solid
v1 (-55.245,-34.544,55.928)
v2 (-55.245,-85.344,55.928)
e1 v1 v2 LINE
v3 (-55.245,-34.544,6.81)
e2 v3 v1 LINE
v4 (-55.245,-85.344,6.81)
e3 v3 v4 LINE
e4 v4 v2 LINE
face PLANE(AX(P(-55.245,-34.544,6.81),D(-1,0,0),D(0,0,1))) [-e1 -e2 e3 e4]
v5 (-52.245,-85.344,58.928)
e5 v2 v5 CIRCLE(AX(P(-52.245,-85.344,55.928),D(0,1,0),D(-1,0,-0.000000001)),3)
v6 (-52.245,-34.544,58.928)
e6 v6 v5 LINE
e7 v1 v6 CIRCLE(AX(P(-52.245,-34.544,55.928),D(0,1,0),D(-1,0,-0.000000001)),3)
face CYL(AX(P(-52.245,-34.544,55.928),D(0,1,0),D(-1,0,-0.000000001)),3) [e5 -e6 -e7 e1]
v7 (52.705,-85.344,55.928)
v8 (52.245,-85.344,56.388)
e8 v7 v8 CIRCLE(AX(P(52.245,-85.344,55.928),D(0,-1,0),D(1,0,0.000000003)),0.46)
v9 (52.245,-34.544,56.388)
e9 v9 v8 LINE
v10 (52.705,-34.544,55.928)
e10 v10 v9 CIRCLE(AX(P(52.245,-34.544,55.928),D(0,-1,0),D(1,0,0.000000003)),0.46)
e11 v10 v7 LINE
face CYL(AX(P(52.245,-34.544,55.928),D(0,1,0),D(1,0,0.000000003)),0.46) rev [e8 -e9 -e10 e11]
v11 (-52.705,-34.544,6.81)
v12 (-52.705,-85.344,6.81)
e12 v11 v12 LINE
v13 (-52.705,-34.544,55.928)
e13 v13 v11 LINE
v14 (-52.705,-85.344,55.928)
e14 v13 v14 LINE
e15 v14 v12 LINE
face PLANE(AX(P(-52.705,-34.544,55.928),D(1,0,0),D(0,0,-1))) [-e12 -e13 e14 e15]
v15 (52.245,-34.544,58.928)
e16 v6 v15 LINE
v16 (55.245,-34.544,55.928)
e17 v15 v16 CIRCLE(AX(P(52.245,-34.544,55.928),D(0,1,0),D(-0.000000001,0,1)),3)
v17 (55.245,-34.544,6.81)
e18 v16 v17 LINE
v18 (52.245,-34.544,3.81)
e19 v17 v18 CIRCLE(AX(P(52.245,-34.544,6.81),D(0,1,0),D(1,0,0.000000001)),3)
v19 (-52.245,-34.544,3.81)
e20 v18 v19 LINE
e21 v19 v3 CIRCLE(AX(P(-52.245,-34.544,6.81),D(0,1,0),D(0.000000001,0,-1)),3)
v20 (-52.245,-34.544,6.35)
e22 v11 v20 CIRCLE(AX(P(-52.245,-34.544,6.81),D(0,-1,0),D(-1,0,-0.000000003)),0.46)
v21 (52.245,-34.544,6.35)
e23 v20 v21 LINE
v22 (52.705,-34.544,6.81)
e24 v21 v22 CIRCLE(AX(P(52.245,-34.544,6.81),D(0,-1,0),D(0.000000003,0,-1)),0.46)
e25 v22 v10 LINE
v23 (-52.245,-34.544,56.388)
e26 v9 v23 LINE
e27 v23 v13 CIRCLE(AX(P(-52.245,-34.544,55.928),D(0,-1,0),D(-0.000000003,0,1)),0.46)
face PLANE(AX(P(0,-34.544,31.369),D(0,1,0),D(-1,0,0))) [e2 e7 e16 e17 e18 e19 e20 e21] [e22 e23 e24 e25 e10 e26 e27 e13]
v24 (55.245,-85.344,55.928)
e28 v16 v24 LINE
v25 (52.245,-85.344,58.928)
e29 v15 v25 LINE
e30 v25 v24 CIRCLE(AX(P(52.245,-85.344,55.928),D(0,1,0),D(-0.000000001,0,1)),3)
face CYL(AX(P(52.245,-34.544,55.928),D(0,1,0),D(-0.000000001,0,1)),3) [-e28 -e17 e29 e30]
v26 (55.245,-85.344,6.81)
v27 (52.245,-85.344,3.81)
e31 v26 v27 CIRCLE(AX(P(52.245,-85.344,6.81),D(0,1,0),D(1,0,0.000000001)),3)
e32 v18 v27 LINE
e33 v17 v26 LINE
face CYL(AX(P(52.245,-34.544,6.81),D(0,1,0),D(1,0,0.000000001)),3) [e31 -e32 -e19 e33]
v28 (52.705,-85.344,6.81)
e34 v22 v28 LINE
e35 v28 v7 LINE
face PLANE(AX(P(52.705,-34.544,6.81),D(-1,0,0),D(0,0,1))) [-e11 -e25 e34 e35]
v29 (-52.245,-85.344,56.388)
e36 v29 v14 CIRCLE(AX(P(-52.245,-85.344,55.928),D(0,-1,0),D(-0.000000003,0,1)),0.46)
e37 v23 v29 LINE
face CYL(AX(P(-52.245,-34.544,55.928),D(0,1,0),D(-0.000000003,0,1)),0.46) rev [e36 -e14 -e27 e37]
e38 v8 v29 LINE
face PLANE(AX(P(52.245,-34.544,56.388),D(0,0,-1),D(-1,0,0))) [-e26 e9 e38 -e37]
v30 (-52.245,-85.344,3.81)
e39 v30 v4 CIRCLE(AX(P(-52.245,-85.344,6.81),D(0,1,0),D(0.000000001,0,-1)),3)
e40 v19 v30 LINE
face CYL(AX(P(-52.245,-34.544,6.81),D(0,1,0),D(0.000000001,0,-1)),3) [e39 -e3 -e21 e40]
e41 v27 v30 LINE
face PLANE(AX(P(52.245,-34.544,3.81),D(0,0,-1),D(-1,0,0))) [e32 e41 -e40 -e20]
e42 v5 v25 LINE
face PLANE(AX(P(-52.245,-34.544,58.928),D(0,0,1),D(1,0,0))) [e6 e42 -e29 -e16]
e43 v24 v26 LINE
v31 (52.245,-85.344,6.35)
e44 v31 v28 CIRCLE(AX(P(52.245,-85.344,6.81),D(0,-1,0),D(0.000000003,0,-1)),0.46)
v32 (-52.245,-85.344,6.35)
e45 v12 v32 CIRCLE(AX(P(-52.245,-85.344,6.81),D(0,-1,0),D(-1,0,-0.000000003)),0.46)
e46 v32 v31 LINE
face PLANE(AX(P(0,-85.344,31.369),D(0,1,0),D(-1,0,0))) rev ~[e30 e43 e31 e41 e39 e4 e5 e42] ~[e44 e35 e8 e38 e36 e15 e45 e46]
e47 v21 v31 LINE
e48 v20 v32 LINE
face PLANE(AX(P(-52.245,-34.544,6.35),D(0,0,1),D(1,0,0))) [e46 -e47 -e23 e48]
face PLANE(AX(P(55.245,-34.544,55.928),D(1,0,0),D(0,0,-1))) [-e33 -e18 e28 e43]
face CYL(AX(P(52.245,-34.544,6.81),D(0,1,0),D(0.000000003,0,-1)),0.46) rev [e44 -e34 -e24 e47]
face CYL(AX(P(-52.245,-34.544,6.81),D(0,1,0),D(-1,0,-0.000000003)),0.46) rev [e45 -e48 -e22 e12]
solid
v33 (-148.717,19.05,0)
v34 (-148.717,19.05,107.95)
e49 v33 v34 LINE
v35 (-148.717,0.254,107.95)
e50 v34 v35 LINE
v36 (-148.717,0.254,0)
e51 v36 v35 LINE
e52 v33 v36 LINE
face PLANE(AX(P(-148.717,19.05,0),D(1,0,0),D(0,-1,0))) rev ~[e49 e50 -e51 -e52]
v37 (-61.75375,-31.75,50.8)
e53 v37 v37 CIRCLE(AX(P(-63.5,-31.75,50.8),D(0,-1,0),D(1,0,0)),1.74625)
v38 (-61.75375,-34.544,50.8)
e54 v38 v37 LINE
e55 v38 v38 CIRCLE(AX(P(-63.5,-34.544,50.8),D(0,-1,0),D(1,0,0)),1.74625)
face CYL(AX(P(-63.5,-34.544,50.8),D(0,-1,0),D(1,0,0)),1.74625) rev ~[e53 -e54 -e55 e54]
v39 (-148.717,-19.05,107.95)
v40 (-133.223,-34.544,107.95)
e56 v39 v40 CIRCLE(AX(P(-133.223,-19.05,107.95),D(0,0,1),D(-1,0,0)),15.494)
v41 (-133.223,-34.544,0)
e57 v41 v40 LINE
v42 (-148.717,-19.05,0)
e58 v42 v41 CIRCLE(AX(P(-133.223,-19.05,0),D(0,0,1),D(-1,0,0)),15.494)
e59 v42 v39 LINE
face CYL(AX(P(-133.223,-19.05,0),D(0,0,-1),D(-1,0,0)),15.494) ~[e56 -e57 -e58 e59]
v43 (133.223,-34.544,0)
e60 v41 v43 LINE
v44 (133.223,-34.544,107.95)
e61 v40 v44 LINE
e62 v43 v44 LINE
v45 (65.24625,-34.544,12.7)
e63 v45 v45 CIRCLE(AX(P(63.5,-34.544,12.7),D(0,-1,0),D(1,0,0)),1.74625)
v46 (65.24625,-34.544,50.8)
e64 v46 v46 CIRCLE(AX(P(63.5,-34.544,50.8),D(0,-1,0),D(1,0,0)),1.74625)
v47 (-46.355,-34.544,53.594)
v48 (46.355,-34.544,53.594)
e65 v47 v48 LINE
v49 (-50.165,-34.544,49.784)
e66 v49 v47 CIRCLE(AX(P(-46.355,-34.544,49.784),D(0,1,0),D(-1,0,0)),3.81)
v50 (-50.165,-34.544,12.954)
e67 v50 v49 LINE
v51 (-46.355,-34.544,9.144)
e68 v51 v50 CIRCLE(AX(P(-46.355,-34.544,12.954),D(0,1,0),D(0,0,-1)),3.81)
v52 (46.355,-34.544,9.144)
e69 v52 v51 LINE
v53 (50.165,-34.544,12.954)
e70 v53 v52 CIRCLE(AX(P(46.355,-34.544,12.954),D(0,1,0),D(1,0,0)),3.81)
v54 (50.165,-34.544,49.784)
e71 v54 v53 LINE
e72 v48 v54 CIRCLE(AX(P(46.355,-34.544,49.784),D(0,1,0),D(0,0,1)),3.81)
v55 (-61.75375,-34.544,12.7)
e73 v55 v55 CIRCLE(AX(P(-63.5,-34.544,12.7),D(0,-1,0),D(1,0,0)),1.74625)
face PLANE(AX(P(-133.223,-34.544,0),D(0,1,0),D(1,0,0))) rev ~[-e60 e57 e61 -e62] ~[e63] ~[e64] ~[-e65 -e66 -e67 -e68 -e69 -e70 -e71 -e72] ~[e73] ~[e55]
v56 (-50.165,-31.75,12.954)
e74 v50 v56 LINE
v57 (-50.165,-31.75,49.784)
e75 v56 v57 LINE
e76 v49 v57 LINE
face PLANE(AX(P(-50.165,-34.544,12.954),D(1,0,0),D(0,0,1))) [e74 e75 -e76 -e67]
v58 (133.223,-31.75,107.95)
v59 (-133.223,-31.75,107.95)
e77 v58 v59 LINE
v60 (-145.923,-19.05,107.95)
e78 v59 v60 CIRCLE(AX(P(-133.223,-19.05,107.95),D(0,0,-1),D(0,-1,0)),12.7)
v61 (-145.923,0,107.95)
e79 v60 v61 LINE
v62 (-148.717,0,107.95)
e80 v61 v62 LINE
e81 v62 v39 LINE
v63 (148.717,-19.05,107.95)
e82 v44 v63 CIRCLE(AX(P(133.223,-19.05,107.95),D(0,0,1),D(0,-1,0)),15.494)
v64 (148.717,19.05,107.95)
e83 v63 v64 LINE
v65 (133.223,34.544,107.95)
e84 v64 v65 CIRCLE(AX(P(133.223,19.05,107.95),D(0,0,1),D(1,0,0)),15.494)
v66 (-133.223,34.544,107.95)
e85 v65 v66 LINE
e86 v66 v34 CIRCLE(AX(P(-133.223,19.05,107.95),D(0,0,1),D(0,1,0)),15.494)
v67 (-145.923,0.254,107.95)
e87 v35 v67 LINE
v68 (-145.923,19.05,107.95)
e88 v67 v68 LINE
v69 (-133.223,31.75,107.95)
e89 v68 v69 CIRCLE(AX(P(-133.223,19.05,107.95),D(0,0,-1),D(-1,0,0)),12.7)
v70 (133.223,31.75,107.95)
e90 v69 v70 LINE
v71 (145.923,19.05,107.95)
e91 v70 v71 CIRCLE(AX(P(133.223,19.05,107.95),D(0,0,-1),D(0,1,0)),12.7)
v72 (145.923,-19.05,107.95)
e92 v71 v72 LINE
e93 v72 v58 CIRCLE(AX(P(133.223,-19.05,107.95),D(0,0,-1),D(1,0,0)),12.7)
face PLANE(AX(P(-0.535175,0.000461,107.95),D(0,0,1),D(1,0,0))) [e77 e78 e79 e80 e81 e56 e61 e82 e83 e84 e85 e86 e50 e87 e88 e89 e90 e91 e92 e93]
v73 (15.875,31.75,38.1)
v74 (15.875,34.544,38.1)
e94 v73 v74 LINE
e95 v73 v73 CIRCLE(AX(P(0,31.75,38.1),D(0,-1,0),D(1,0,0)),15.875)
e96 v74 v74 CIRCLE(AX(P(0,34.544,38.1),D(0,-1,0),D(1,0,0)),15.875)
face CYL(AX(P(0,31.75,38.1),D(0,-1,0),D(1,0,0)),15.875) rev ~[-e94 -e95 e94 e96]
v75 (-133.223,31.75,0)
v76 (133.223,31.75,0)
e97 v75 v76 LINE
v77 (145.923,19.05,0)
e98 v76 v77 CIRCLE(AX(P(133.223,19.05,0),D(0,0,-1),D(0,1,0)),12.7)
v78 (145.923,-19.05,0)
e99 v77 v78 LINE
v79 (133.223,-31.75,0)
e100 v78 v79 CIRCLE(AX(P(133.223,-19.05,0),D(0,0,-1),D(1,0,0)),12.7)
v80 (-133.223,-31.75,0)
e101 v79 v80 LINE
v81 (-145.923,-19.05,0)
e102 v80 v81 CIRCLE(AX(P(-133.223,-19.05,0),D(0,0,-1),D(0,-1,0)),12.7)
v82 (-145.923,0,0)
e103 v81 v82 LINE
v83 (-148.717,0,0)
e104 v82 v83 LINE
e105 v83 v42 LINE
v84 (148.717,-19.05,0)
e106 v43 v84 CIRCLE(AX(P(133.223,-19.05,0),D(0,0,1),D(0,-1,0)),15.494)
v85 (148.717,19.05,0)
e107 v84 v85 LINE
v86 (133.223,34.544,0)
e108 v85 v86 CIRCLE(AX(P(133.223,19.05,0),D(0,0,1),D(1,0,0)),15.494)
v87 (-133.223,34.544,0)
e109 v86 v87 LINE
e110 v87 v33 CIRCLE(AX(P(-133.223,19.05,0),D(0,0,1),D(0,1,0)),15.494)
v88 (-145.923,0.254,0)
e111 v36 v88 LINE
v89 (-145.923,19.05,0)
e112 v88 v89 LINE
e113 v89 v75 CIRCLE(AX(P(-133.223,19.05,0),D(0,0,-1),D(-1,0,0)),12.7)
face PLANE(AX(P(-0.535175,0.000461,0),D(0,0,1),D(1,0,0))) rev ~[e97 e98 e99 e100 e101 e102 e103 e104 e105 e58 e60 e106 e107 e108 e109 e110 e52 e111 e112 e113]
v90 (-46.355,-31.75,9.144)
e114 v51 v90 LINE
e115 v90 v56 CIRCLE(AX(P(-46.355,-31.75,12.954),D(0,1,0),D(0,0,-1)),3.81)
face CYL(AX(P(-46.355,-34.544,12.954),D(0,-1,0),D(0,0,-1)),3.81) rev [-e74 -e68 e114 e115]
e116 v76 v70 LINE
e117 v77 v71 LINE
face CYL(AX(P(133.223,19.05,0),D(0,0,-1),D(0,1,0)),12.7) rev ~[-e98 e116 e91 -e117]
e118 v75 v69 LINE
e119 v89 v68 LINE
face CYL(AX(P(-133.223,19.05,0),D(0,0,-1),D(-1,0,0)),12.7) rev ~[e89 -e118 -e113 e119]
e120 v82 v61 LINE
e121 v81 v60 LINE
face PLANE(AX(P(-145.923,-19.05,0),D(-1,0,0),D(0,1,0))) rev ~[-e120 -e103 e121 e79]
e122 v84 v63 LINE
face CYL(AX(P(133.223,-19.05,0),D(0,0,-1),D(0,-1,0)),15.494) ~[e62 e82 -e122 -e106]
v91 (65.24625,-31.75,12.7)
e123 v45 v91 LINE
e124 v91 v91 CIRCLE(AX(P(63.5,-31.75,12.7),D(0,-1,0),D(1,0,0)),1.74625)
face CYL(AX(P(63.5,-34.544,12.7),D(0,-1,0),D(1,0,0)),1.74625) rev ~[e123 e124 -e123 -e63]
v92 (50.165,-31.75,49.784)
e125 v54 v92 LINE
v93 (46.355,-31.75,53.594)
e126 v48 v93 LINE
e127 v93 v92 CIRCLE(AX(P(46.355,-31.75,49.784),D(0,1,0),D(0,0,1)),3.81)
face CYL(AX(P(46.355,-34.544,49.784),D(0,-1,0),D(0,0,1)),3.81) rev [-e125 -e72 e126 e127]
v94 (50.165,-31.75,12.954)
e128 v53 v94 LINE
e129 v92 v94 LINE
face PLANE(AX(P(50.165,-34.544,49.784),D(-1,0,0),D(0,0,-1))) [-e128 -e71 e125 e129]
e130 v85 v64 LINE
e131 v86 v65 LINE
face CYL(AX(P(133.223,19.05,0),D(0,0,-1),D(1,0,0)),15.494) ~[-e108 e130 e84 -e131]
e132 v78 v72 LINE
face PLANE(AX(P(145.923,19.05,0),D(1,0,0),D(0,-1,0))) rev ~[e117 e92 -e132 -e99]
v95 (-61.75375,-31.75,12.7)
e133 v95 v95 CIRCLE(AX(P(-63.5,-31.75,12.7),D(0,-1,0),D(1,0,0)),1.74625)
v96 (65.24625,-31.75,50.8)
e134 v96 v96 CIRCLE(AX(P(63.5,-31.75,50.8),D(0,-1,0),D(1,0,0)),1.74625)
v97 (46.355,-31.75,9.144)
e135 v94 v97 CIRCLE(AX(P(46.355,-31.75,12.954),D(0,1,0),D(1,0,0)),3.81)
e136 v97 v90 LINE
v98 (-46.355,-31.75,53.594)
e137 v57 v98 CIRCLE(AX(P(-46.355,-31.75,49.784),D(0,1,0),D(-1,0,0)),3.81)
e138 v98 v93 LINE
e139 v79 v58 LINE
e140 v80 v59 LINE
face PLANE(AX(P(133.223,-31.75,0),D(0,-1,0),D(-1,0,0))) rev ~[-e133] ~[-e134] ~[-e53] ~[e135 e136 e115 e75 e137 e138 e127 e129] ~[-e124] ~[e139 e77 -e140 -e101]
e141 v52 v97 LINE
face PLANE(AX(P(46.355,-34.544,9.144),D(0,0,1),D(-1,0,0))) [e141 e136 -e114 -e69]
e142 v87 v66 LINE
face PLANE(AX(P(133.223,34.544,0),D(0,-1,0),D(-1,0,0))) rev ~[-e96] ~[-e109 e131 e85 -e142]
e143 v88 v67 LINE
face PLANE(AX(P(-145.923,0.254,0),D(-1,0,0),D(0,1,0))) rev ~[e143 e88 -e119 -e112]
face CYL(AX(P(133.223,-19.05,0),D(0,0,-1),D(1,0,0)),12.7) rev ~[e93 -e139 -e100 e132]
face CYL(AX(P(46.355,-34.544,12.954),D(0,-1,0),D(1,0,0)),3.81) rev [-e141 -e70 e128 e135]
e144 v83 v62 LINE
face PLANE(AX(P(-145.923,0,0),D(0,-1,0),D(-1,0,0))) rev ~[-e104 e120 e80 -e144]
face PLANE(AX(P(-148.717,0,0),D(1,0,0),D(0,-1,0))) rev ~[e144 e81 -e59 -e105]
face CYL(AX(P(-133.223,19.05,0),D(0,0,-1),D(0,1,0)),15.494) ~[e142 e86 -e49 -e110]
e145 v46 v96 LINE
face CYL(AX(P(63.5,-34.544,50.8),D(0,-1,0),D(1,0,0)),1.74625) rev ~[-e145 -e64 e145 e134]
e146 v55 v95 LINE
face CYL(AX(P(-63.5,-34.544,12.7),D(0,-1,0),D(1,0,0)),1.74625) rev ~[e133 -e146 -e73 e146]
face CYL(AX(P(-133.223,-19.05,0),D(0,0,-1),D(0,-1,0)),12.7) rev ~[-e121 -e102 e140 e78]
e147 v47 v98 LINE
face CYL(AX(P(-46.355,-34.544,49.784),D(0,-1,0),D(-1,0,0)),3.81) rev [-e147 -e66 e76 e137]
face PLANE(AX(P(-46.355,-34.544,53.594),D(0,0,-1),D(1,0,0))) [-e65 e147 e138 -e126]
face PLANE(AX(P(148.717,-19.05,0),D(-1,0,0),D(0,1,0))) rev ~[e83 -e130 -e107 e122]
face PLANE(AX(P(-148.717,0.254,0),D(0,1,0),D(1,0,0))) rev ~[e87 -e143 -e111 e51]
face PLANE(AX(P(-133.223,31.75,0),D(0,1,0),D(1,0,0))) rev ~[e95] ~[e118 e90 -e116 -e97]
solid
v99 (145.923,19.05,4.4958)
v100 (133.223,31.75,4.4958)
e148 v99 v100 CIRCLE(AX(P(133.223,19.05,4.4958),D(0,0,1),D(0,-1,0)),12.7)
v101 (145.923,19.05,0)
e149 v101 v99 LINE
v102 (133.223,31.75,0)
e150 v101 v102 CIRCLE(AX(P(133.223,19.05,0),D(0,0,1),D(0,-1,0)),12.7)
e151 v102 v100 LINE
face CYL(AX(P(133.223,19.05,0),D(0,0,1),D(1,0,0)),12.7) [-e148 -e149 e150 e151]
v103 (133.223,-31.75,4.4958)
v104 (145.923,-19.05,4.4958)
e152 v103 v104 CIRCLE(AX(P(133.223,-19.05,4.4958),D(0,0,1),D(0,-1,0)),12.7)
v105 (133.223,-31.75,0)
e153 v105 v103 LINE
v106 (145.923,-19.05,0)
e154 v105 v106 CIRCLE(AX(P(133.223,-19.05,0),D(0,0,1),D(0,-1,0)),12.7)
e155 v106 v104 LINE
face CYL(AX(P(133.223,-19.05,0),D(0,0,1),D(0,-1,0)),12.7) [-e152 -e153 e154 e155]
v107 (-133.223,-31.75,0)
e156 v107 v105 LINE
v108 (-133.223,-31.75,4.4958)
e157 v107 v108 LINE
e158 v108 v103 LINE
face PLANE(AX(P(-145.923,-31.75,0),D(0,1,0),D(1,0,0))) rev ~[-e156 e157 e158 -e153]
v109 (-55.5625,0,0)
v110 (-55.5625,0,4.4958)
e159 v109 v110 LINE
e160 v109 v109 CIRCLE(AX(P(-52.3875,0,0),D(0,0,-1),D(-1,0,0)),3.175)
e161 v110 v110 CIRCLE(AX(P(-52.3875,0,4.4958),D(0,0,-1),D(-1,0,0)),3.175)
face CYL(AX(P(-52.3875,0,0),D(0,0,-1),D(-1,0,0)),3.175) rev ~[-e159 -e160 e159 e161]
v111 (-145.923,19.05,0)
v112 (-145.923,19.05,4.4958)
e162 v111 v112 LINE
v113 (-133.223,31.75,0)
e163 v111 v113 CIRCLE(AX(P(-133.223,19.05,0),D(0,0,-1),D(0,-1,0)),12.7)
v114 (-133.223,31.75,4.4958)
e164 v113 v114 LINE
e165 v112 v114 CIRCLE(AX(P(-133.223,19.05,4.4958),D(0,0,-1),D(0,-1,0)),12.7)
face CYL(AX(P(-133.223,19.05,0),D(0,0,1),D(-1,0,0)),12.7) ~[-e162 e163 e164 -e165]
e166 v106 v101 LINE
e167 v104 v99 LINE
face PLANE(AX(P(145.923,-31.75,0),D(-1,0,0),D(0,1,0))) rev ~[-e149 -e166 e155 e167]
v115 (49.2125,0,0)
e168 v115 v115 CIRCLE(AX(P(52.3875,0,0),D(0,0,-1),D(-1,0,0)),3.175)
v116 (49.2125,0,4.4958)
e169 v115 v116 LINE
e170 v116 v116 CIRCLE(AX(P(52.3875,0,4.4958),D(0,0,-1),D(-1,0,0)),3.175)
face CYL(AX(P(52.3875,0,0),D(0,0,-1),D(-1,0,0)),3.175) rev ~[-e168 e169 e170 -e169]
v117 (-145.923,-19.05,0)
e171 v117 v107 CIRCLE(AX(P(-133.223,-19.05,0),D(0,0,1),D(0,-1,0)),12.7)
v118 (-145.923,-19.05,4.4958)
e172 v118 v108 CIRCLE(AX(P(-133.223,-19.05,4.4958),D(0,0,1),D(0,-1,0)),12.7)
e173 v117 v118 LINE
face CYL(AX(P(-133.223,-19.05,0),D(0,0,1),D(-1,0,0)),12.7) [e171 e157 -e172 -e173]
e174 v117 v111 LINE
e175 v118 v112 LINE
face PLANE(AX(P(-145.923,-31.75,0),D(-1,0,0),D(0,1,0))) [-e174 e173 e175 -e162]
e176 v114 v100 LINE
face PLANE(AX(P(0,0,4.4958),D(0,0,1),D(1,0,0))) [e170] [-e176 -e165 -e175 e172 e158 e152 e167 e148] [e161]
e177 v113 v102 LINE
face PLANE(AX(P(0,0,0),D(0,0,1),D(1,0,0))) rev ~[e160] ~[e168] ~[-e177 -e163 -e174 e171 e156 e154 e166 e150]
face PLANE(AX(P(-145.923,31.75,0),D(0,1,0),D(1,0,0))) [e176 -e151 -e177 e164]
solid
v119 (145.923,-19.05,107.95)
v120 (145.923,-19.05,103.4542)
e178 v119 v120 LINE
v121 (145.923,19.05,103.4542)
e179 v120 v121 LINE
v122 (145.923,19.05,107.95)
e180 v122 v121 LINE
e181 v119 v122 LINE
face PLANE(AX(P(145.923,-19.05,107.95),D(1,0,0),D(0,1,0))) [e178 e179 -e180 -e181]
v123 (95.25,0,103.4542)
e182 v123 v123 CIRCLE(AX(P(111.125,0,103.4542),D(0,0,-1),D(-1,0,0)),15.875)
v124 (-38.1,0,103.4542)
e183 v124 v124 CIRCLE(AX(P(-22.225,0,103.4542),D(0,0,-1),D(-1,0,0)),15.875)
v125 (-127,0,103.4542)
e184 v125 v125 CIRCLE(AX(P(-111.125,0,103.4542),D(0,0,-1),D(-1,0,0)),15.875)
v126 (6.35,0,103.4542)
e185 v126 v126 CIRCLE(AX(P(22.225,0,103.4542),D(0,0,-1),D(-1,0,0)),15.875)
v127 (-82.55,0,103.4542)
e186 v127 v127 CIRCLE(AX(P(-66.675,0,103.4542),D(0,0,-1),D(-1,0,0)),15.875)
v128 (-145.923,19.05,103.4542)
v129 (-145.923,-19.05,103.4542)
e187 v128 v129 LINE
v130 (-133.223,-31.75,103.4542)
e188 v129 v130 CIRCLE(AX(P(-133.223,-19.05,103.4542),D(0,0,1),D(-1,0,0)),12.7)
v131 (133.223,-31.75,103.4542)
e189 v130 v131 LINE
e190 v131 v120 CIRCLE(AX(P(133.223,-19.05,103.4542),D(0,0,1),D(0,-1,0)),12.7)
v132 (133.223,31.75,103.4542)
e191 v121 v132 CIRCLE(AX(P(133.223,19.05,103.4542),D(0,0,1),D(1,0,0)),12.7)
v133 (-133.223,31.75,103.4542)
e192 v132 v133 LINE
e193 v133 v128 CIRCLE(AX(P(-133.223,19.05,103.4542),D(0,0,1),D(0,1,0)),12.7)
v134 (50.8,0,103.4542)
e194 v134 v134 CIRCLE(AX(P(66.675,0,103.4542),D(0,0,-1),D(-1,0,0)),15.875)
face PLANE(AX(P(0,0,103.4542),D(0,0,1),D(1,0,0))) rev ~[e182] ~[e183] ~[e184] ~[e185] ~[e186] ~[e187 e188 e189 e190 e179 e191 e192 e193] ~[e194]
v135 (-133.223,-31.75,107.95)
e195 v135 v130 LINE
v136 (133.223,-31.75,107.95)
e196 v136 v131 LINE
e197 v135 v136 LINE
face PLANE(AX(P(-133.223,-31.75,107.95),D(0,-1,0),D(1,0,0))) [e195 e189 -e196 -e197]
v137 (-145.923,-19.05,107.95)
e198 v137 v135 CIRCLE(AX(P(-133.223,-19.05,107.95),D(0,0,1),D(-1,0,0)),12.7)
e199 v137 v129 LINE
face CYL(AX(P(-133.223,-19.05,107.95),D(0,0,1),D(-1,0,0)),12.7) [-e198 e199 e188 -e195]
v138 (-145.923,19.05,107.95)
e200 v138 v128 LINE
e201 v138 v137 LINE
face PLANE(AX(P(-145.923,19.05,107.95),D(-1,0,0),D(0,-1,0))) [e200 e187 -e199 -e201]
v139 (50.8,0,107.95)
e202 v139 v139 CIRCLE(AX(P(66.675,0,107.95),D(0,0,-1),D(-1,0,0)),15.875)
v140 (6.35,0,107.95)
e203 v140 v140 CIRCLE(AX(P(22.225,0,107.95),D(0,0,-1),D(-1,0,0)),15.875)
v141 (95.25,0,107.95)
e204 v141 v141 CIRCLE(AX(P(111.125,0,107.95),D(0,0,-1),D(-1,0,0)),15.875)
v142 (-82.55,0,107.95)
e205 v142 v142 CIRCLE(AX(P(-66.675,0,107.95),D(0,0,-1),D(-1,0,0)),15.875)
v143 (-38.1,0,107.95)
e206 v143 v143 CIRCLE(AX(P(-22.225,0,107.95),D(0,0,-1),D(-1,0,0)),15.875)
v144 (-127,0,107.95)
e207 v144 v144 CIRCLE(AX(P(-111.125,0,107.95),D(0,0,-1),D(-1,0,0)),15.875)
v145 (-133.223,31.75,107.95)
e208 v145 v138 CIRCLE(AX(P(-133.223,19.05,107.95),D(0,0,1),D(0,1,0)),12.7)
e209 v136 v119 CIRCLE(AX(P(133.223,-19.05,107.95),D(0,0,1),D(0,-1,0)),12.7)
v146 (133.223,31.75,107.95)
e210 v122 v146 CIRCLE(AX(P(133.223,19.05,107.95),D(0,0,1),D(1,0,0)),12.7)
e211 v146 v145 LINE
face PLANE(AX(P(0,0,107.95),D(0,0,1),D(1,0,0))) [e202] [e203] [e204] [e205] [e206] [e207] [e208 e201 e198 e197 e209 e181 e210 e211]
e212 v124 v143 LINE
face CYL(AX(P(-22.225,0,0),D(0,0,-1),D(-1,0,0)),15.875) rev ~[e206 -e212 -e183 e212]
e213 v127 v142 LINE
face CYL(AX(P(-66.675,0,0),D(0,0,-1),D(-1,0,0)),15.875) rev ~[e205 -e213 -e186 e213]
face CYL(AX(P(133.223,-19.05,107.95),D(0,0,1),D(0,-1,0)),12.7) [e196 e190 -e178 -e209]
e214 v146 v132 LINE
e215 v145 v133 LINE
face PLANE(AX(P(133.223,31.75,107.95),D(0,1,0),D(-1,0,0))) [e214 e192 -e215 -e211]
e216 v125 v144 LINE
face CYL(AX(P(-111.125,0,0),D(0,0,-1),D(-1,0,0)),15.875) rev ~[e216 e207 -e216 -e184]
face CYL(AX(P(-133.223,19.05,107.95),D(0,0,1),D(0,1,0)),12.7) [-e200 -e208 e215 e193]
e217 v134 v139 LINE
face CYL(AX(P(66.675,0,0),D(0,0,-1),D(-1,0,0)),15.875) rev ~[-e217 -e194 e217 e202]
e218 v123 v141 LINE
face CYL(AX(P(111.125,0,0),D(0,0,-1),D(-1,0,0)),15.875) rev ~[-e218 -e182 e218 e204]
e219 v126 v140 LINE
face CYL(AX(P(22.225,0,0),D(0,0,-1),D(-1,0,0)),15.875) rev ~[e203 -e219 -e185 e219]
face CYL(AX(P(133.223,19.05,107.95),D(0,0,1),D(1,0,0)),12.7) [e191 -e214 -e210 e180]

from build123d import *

# Parameters (mm, degrees)
SKETCH1_W           = 291.846
SKETCH1_H           = 63.5
BOSS_EXTRUDE1_DEPTH = 4.4958
FILLET1_R           = 12.7
BOSS_EXTRUDE2_DEPTH = 107.95
BOSS_EXTRUDE3_DEPTH = 4.4958
SKETCH2_R           = 15.875
CUT_EXTRUDE1_DEPTH  = 187.984589004
BOSS_EXTRUDE5_DEPTH = 50.8
SKETCH7_R           = 3.175
CUT_EXTRUDE2_DEPTH  = 4.4958
CUT_EXTRUDE3_DEPTH  = 2.794
CUT_EXTRUDE4_START  = -66.294
SKETCH9_R           = 15.875
CUT_EXTRUDE4_DEPTH  = 131.029967801
SKETCH10_R          = 1.74625
CUT_EXTRUDE5_DEPTH  = 2.794


with BuildPart() as part:
    # Sketch1 → Boss-Extrude1 (new body)
    with BuildSketch(Plane.XY):
        Rectangle(SKETCH1_W, SKETCH1_H)
    extrude(amount=BOSS_EXTRUDE1_DEPTH)

    # Fillet1
    fillet1_edges = [part.edges().sort_by_distance(p)[0] for p in [
        (145.923, -31.75, 2.2479),
        (-145.923, -31.75, 2.2479),
        (-145.923, 31.75, 2.2479),
        (145.923, 31.75, 2.2479),
    ]]
    fillet(fillet1_edges, radius=FILLET1_R)

    # Sketch7 → Cut-Extrude2 (cut)
    with BuildSketch(Plane(origin=(0, 0, 0), x_dir=(-1, 0, 0), z_dir=(0, 0, -1))):
        with Locations((-52.3875, 0)):
            Circle(SKETCH7_R)
        with Locations((52.3875, 0)):
            Circle(SKETCH7_R)
    extrude(amount=-CUT_EXTRUDE2_DEPTH, mode=Mode.SUBTRACT)


with BuildPart() as body_2:
    # Sketch3 → Boss-Extrude2 (new body)
    with BuildSketch(Plane.XY):
        with BuildLine():
            Line((133.223, 34.544), (-133.223, 34.544))
            ThreePointArc((-133.223, 34.544), (-144.178912468, 30.005912468), (-148.717, 19.05))
            Line((-148.717, 19.05), (-148.717, 0.254))
            Line((-148.717, 0.254), (-145.923, 0.254))
            Line((-145.923, 0.254), (-145.923, 19.05))
            ThreePointArc((-145.923, 19.05), (-142.203256121, 28.030256121), (-133.223, 31.75))
            Line((-133.223, 31.75), (133.223, 31.75))
            ThreePointArc((133.223, 31.75), (142.203256121, 28.030256121), (145.923, 19.05))
            Line((145.923, 19.05), (145.923, -19.05))
            ThreePointArc((145.923, -19.05), (142.203256121, -28.030256121), (133.223, -31.75))
            Line((133.223, -31.75), (-133.223, -31.75))
            ThreePointArc((-133.223, -31.75), (-142.203256121, -28.030256121), (-145.923, -19.05))
            Line((-145.923, -19.05), (-145.923, 0))
            Line((-145.923, 0), (-148.717, 0))
            Line((-148.717, 0), (-148.717, -19.05))
            ThreePointArc((-148.717, -19.05), (-144.178912468, -30.005912468), (-133.223, -34.544))
            Line((-133.223, -34.544), (133.223, -34.544))
            ThreePointArc((133.223, -34.544), (144.178912468, -30.005912468), (148.717, -19.05))
            Line((148.717, -19.05), (148.717, 19.05))
            ThreePointArc((148.717, 19.05), (144.178912468, 30.005912468), (133.223, 34.544))
        make_face()
    extrude(amount=BOSS_EXTRUDE2_DEPTH)

    # Sketch8 → Cut-Extrude3 (cut)
    with BuildSketch(Plane.XZ.offset(34.544)):
        with BuildLine():
            Line((-46.355, 53.594), (46.355, 53.594))
            ThreePointArc((46.355, 53.594), (49.049076836, 52.478076836), (50.165, 49.784))
            Line((50.165, 49.784), (50.165, 12.954))
            ThreePointArc((50.165, 12.954), (49.049076836, 10.259923164), (46.355, 9.144))
            Line((46.355, 9.144), (-46.355, 9.144))
            ThreePointArc((-46.355, 9.144), (-49.049076836, 10.259923164), (-50.165, 12.954))
            Line((-50.165, 12.954), (-50.165, 49.784))
            ThreePointArc((-50.165, 49.784), (-49.049076836, 52.478076836), (-46.355, 53.594))
        make_face()
    extrude(amount=-CUT_EXTRUDE3_DEPTH, mode=Mode.SUBTRACT)

    # Sketch9 → Cut-Extrude4 (cut, through all)
    with BuildSketch(Plane.XZ.offset(34.544).offset(CUT_EXTRUDE4_START)):
        with Locations((0, 38.1)):
            Circle(SKETCH9_R)
    extrude(amount=-CUT_EXTRUDE4_DEPTH, mode=Mode.SUBTRACT)

    # Sketch10 → Cut-Extrude5 (cut)
    with BuildSketch(Plane.XZ.offset(34.544)):
        with Locations((63.5, 50.8)):
            Circle(SKETCH10_R)
        with Locations((63.5, 12.7)):
            Circle(SKETCH10_R)
        with Locations((-63.5, 50.8)):
            Circle(SKETCH10_R)
        with Locations((-63.5, 12.7)):
            Circle(SKETCH10_R)
    extrude(amount=-CUT_EXTRUDE5_DEPTH, mode=Mode.SUBTRACT)


with BuildPart() as body_3:
    # Sketch4 → Boss-Extrude3 (new body)
    with BuildSketch(Plane.XY.offset(107.95)):
        with BuildLine():
            Line((-145.923, 19.05), (-145.923, -19.05))
            ThreePointArc((-145.923, -19.05), (-142.203256121, -28.030256121), (-133.223, -31.75))
            Line((-133.223, -31.75), (133.223, -31.75))
            ThreePointArc((133.223, -31.75), (142.203256121, -28.030256121), (145.923, -19.05))
            Line((145.923, -19.05), (145.923, 19.05))
            ThreePointArc((145.923, 19.05), (142.203256121, 28.030256121), (133.223, 31.75))
            Line((133.223, 31.75), (-133.223, 31.75))
            ThreePointArc((-133.223, 31.75), (-142.203256121, 28.030256121), (-145.923, 19.05))
        make_face()
    extrude(amount=-BOSS_EXTRUDE3_DEPTH)

    # Sketch2 → Cut-Extrude1 (cut, through all)
    with BuildSketch(Plane(origin=(0, 0, 0), x_dir=(-1, 0, 0), z_dir=(0, 0, -1))):
        with Locations((-111.125, 0)):
            Circle(SKETCH2_R)
        with Locations((-66.675, 0)):
            Circle(SKETCH2_R)
        with Locations((-22.225, 0)):
            Circle(SKETCH2_R)
        with Locations((22.225, 0)):
            Circle(SKETCH2_R)
        with Locations((66.675, 0)):
            Circle(SKETCH2_R)
        with Locations((111.125, 0)):
            Circle(SKETCH2_R)
    extrude(amount=-CUT_EXTRUDE1_DEPTH, mode=Mode.SUBTRACT)


with BuildPart() as body_4:
    # Sketch6 → Boss-Extrude5 (new body)
    with BuildSketch(Plane.XZ.offset(34.544)):
        with BuildLine():
            Line((-52.245, 58.928), (52.245, 58.928))
            ThreePointArc((52.245, 58.928), (54.366320344, 58.049320344), (55.245, 55.928))
            Line((55.245, 55.928), (55.245, 6.81))
            ThreePointArc((55.245, 6.81), (54.366320344, 4.688679656), (52.245, 3.81))
            Line((52.245, 3.81), (-52.245, 3.81))
            ThreePointArc((-52.245, 3.81), (-54.366320344, 4.688679656), (-55.245, 6.81))
            Line((-55.245, 6.81), (-55.245, 55.928))
            ThreePointArc((-55.245, 55.928), (-54.366320344, 58.049320344), (-52.245, 58.928))
        make_face()
        with BuildLine():
            Line((-52.705, 55.928), (-52.705, 6.81))
            ThreePointArc((-52.705, 6.81), (-52.570269119, 6.484730881), (-52.245, 6.35))
            Line((-52.245, 6.35), (52.245, 6.35))
            ThreePointArc((52.245, 6.35), (52.570269119, 6.484730881), (52.705, 6.81))
            Line((52.705, 6.81), (52.705, 55.928))
            ThreePointArc((52.705, 55.928), (52.570269119, 56.253269119), (52.245, 56.388))
            Line((52.245, 56.388), (-52.245, 56.388))
            ThreePointArc((-52.245, 56.388), (-52.570269119, 56.253269119), (-52.705, 55.928))
        make_face(mode=Mode.SUBTRACT)
    extrude(amount=BOSS_EXTRUDE5_DEPTH)


solid = Compound([part.part, body_2.part, body_3.part, body_4.part])
